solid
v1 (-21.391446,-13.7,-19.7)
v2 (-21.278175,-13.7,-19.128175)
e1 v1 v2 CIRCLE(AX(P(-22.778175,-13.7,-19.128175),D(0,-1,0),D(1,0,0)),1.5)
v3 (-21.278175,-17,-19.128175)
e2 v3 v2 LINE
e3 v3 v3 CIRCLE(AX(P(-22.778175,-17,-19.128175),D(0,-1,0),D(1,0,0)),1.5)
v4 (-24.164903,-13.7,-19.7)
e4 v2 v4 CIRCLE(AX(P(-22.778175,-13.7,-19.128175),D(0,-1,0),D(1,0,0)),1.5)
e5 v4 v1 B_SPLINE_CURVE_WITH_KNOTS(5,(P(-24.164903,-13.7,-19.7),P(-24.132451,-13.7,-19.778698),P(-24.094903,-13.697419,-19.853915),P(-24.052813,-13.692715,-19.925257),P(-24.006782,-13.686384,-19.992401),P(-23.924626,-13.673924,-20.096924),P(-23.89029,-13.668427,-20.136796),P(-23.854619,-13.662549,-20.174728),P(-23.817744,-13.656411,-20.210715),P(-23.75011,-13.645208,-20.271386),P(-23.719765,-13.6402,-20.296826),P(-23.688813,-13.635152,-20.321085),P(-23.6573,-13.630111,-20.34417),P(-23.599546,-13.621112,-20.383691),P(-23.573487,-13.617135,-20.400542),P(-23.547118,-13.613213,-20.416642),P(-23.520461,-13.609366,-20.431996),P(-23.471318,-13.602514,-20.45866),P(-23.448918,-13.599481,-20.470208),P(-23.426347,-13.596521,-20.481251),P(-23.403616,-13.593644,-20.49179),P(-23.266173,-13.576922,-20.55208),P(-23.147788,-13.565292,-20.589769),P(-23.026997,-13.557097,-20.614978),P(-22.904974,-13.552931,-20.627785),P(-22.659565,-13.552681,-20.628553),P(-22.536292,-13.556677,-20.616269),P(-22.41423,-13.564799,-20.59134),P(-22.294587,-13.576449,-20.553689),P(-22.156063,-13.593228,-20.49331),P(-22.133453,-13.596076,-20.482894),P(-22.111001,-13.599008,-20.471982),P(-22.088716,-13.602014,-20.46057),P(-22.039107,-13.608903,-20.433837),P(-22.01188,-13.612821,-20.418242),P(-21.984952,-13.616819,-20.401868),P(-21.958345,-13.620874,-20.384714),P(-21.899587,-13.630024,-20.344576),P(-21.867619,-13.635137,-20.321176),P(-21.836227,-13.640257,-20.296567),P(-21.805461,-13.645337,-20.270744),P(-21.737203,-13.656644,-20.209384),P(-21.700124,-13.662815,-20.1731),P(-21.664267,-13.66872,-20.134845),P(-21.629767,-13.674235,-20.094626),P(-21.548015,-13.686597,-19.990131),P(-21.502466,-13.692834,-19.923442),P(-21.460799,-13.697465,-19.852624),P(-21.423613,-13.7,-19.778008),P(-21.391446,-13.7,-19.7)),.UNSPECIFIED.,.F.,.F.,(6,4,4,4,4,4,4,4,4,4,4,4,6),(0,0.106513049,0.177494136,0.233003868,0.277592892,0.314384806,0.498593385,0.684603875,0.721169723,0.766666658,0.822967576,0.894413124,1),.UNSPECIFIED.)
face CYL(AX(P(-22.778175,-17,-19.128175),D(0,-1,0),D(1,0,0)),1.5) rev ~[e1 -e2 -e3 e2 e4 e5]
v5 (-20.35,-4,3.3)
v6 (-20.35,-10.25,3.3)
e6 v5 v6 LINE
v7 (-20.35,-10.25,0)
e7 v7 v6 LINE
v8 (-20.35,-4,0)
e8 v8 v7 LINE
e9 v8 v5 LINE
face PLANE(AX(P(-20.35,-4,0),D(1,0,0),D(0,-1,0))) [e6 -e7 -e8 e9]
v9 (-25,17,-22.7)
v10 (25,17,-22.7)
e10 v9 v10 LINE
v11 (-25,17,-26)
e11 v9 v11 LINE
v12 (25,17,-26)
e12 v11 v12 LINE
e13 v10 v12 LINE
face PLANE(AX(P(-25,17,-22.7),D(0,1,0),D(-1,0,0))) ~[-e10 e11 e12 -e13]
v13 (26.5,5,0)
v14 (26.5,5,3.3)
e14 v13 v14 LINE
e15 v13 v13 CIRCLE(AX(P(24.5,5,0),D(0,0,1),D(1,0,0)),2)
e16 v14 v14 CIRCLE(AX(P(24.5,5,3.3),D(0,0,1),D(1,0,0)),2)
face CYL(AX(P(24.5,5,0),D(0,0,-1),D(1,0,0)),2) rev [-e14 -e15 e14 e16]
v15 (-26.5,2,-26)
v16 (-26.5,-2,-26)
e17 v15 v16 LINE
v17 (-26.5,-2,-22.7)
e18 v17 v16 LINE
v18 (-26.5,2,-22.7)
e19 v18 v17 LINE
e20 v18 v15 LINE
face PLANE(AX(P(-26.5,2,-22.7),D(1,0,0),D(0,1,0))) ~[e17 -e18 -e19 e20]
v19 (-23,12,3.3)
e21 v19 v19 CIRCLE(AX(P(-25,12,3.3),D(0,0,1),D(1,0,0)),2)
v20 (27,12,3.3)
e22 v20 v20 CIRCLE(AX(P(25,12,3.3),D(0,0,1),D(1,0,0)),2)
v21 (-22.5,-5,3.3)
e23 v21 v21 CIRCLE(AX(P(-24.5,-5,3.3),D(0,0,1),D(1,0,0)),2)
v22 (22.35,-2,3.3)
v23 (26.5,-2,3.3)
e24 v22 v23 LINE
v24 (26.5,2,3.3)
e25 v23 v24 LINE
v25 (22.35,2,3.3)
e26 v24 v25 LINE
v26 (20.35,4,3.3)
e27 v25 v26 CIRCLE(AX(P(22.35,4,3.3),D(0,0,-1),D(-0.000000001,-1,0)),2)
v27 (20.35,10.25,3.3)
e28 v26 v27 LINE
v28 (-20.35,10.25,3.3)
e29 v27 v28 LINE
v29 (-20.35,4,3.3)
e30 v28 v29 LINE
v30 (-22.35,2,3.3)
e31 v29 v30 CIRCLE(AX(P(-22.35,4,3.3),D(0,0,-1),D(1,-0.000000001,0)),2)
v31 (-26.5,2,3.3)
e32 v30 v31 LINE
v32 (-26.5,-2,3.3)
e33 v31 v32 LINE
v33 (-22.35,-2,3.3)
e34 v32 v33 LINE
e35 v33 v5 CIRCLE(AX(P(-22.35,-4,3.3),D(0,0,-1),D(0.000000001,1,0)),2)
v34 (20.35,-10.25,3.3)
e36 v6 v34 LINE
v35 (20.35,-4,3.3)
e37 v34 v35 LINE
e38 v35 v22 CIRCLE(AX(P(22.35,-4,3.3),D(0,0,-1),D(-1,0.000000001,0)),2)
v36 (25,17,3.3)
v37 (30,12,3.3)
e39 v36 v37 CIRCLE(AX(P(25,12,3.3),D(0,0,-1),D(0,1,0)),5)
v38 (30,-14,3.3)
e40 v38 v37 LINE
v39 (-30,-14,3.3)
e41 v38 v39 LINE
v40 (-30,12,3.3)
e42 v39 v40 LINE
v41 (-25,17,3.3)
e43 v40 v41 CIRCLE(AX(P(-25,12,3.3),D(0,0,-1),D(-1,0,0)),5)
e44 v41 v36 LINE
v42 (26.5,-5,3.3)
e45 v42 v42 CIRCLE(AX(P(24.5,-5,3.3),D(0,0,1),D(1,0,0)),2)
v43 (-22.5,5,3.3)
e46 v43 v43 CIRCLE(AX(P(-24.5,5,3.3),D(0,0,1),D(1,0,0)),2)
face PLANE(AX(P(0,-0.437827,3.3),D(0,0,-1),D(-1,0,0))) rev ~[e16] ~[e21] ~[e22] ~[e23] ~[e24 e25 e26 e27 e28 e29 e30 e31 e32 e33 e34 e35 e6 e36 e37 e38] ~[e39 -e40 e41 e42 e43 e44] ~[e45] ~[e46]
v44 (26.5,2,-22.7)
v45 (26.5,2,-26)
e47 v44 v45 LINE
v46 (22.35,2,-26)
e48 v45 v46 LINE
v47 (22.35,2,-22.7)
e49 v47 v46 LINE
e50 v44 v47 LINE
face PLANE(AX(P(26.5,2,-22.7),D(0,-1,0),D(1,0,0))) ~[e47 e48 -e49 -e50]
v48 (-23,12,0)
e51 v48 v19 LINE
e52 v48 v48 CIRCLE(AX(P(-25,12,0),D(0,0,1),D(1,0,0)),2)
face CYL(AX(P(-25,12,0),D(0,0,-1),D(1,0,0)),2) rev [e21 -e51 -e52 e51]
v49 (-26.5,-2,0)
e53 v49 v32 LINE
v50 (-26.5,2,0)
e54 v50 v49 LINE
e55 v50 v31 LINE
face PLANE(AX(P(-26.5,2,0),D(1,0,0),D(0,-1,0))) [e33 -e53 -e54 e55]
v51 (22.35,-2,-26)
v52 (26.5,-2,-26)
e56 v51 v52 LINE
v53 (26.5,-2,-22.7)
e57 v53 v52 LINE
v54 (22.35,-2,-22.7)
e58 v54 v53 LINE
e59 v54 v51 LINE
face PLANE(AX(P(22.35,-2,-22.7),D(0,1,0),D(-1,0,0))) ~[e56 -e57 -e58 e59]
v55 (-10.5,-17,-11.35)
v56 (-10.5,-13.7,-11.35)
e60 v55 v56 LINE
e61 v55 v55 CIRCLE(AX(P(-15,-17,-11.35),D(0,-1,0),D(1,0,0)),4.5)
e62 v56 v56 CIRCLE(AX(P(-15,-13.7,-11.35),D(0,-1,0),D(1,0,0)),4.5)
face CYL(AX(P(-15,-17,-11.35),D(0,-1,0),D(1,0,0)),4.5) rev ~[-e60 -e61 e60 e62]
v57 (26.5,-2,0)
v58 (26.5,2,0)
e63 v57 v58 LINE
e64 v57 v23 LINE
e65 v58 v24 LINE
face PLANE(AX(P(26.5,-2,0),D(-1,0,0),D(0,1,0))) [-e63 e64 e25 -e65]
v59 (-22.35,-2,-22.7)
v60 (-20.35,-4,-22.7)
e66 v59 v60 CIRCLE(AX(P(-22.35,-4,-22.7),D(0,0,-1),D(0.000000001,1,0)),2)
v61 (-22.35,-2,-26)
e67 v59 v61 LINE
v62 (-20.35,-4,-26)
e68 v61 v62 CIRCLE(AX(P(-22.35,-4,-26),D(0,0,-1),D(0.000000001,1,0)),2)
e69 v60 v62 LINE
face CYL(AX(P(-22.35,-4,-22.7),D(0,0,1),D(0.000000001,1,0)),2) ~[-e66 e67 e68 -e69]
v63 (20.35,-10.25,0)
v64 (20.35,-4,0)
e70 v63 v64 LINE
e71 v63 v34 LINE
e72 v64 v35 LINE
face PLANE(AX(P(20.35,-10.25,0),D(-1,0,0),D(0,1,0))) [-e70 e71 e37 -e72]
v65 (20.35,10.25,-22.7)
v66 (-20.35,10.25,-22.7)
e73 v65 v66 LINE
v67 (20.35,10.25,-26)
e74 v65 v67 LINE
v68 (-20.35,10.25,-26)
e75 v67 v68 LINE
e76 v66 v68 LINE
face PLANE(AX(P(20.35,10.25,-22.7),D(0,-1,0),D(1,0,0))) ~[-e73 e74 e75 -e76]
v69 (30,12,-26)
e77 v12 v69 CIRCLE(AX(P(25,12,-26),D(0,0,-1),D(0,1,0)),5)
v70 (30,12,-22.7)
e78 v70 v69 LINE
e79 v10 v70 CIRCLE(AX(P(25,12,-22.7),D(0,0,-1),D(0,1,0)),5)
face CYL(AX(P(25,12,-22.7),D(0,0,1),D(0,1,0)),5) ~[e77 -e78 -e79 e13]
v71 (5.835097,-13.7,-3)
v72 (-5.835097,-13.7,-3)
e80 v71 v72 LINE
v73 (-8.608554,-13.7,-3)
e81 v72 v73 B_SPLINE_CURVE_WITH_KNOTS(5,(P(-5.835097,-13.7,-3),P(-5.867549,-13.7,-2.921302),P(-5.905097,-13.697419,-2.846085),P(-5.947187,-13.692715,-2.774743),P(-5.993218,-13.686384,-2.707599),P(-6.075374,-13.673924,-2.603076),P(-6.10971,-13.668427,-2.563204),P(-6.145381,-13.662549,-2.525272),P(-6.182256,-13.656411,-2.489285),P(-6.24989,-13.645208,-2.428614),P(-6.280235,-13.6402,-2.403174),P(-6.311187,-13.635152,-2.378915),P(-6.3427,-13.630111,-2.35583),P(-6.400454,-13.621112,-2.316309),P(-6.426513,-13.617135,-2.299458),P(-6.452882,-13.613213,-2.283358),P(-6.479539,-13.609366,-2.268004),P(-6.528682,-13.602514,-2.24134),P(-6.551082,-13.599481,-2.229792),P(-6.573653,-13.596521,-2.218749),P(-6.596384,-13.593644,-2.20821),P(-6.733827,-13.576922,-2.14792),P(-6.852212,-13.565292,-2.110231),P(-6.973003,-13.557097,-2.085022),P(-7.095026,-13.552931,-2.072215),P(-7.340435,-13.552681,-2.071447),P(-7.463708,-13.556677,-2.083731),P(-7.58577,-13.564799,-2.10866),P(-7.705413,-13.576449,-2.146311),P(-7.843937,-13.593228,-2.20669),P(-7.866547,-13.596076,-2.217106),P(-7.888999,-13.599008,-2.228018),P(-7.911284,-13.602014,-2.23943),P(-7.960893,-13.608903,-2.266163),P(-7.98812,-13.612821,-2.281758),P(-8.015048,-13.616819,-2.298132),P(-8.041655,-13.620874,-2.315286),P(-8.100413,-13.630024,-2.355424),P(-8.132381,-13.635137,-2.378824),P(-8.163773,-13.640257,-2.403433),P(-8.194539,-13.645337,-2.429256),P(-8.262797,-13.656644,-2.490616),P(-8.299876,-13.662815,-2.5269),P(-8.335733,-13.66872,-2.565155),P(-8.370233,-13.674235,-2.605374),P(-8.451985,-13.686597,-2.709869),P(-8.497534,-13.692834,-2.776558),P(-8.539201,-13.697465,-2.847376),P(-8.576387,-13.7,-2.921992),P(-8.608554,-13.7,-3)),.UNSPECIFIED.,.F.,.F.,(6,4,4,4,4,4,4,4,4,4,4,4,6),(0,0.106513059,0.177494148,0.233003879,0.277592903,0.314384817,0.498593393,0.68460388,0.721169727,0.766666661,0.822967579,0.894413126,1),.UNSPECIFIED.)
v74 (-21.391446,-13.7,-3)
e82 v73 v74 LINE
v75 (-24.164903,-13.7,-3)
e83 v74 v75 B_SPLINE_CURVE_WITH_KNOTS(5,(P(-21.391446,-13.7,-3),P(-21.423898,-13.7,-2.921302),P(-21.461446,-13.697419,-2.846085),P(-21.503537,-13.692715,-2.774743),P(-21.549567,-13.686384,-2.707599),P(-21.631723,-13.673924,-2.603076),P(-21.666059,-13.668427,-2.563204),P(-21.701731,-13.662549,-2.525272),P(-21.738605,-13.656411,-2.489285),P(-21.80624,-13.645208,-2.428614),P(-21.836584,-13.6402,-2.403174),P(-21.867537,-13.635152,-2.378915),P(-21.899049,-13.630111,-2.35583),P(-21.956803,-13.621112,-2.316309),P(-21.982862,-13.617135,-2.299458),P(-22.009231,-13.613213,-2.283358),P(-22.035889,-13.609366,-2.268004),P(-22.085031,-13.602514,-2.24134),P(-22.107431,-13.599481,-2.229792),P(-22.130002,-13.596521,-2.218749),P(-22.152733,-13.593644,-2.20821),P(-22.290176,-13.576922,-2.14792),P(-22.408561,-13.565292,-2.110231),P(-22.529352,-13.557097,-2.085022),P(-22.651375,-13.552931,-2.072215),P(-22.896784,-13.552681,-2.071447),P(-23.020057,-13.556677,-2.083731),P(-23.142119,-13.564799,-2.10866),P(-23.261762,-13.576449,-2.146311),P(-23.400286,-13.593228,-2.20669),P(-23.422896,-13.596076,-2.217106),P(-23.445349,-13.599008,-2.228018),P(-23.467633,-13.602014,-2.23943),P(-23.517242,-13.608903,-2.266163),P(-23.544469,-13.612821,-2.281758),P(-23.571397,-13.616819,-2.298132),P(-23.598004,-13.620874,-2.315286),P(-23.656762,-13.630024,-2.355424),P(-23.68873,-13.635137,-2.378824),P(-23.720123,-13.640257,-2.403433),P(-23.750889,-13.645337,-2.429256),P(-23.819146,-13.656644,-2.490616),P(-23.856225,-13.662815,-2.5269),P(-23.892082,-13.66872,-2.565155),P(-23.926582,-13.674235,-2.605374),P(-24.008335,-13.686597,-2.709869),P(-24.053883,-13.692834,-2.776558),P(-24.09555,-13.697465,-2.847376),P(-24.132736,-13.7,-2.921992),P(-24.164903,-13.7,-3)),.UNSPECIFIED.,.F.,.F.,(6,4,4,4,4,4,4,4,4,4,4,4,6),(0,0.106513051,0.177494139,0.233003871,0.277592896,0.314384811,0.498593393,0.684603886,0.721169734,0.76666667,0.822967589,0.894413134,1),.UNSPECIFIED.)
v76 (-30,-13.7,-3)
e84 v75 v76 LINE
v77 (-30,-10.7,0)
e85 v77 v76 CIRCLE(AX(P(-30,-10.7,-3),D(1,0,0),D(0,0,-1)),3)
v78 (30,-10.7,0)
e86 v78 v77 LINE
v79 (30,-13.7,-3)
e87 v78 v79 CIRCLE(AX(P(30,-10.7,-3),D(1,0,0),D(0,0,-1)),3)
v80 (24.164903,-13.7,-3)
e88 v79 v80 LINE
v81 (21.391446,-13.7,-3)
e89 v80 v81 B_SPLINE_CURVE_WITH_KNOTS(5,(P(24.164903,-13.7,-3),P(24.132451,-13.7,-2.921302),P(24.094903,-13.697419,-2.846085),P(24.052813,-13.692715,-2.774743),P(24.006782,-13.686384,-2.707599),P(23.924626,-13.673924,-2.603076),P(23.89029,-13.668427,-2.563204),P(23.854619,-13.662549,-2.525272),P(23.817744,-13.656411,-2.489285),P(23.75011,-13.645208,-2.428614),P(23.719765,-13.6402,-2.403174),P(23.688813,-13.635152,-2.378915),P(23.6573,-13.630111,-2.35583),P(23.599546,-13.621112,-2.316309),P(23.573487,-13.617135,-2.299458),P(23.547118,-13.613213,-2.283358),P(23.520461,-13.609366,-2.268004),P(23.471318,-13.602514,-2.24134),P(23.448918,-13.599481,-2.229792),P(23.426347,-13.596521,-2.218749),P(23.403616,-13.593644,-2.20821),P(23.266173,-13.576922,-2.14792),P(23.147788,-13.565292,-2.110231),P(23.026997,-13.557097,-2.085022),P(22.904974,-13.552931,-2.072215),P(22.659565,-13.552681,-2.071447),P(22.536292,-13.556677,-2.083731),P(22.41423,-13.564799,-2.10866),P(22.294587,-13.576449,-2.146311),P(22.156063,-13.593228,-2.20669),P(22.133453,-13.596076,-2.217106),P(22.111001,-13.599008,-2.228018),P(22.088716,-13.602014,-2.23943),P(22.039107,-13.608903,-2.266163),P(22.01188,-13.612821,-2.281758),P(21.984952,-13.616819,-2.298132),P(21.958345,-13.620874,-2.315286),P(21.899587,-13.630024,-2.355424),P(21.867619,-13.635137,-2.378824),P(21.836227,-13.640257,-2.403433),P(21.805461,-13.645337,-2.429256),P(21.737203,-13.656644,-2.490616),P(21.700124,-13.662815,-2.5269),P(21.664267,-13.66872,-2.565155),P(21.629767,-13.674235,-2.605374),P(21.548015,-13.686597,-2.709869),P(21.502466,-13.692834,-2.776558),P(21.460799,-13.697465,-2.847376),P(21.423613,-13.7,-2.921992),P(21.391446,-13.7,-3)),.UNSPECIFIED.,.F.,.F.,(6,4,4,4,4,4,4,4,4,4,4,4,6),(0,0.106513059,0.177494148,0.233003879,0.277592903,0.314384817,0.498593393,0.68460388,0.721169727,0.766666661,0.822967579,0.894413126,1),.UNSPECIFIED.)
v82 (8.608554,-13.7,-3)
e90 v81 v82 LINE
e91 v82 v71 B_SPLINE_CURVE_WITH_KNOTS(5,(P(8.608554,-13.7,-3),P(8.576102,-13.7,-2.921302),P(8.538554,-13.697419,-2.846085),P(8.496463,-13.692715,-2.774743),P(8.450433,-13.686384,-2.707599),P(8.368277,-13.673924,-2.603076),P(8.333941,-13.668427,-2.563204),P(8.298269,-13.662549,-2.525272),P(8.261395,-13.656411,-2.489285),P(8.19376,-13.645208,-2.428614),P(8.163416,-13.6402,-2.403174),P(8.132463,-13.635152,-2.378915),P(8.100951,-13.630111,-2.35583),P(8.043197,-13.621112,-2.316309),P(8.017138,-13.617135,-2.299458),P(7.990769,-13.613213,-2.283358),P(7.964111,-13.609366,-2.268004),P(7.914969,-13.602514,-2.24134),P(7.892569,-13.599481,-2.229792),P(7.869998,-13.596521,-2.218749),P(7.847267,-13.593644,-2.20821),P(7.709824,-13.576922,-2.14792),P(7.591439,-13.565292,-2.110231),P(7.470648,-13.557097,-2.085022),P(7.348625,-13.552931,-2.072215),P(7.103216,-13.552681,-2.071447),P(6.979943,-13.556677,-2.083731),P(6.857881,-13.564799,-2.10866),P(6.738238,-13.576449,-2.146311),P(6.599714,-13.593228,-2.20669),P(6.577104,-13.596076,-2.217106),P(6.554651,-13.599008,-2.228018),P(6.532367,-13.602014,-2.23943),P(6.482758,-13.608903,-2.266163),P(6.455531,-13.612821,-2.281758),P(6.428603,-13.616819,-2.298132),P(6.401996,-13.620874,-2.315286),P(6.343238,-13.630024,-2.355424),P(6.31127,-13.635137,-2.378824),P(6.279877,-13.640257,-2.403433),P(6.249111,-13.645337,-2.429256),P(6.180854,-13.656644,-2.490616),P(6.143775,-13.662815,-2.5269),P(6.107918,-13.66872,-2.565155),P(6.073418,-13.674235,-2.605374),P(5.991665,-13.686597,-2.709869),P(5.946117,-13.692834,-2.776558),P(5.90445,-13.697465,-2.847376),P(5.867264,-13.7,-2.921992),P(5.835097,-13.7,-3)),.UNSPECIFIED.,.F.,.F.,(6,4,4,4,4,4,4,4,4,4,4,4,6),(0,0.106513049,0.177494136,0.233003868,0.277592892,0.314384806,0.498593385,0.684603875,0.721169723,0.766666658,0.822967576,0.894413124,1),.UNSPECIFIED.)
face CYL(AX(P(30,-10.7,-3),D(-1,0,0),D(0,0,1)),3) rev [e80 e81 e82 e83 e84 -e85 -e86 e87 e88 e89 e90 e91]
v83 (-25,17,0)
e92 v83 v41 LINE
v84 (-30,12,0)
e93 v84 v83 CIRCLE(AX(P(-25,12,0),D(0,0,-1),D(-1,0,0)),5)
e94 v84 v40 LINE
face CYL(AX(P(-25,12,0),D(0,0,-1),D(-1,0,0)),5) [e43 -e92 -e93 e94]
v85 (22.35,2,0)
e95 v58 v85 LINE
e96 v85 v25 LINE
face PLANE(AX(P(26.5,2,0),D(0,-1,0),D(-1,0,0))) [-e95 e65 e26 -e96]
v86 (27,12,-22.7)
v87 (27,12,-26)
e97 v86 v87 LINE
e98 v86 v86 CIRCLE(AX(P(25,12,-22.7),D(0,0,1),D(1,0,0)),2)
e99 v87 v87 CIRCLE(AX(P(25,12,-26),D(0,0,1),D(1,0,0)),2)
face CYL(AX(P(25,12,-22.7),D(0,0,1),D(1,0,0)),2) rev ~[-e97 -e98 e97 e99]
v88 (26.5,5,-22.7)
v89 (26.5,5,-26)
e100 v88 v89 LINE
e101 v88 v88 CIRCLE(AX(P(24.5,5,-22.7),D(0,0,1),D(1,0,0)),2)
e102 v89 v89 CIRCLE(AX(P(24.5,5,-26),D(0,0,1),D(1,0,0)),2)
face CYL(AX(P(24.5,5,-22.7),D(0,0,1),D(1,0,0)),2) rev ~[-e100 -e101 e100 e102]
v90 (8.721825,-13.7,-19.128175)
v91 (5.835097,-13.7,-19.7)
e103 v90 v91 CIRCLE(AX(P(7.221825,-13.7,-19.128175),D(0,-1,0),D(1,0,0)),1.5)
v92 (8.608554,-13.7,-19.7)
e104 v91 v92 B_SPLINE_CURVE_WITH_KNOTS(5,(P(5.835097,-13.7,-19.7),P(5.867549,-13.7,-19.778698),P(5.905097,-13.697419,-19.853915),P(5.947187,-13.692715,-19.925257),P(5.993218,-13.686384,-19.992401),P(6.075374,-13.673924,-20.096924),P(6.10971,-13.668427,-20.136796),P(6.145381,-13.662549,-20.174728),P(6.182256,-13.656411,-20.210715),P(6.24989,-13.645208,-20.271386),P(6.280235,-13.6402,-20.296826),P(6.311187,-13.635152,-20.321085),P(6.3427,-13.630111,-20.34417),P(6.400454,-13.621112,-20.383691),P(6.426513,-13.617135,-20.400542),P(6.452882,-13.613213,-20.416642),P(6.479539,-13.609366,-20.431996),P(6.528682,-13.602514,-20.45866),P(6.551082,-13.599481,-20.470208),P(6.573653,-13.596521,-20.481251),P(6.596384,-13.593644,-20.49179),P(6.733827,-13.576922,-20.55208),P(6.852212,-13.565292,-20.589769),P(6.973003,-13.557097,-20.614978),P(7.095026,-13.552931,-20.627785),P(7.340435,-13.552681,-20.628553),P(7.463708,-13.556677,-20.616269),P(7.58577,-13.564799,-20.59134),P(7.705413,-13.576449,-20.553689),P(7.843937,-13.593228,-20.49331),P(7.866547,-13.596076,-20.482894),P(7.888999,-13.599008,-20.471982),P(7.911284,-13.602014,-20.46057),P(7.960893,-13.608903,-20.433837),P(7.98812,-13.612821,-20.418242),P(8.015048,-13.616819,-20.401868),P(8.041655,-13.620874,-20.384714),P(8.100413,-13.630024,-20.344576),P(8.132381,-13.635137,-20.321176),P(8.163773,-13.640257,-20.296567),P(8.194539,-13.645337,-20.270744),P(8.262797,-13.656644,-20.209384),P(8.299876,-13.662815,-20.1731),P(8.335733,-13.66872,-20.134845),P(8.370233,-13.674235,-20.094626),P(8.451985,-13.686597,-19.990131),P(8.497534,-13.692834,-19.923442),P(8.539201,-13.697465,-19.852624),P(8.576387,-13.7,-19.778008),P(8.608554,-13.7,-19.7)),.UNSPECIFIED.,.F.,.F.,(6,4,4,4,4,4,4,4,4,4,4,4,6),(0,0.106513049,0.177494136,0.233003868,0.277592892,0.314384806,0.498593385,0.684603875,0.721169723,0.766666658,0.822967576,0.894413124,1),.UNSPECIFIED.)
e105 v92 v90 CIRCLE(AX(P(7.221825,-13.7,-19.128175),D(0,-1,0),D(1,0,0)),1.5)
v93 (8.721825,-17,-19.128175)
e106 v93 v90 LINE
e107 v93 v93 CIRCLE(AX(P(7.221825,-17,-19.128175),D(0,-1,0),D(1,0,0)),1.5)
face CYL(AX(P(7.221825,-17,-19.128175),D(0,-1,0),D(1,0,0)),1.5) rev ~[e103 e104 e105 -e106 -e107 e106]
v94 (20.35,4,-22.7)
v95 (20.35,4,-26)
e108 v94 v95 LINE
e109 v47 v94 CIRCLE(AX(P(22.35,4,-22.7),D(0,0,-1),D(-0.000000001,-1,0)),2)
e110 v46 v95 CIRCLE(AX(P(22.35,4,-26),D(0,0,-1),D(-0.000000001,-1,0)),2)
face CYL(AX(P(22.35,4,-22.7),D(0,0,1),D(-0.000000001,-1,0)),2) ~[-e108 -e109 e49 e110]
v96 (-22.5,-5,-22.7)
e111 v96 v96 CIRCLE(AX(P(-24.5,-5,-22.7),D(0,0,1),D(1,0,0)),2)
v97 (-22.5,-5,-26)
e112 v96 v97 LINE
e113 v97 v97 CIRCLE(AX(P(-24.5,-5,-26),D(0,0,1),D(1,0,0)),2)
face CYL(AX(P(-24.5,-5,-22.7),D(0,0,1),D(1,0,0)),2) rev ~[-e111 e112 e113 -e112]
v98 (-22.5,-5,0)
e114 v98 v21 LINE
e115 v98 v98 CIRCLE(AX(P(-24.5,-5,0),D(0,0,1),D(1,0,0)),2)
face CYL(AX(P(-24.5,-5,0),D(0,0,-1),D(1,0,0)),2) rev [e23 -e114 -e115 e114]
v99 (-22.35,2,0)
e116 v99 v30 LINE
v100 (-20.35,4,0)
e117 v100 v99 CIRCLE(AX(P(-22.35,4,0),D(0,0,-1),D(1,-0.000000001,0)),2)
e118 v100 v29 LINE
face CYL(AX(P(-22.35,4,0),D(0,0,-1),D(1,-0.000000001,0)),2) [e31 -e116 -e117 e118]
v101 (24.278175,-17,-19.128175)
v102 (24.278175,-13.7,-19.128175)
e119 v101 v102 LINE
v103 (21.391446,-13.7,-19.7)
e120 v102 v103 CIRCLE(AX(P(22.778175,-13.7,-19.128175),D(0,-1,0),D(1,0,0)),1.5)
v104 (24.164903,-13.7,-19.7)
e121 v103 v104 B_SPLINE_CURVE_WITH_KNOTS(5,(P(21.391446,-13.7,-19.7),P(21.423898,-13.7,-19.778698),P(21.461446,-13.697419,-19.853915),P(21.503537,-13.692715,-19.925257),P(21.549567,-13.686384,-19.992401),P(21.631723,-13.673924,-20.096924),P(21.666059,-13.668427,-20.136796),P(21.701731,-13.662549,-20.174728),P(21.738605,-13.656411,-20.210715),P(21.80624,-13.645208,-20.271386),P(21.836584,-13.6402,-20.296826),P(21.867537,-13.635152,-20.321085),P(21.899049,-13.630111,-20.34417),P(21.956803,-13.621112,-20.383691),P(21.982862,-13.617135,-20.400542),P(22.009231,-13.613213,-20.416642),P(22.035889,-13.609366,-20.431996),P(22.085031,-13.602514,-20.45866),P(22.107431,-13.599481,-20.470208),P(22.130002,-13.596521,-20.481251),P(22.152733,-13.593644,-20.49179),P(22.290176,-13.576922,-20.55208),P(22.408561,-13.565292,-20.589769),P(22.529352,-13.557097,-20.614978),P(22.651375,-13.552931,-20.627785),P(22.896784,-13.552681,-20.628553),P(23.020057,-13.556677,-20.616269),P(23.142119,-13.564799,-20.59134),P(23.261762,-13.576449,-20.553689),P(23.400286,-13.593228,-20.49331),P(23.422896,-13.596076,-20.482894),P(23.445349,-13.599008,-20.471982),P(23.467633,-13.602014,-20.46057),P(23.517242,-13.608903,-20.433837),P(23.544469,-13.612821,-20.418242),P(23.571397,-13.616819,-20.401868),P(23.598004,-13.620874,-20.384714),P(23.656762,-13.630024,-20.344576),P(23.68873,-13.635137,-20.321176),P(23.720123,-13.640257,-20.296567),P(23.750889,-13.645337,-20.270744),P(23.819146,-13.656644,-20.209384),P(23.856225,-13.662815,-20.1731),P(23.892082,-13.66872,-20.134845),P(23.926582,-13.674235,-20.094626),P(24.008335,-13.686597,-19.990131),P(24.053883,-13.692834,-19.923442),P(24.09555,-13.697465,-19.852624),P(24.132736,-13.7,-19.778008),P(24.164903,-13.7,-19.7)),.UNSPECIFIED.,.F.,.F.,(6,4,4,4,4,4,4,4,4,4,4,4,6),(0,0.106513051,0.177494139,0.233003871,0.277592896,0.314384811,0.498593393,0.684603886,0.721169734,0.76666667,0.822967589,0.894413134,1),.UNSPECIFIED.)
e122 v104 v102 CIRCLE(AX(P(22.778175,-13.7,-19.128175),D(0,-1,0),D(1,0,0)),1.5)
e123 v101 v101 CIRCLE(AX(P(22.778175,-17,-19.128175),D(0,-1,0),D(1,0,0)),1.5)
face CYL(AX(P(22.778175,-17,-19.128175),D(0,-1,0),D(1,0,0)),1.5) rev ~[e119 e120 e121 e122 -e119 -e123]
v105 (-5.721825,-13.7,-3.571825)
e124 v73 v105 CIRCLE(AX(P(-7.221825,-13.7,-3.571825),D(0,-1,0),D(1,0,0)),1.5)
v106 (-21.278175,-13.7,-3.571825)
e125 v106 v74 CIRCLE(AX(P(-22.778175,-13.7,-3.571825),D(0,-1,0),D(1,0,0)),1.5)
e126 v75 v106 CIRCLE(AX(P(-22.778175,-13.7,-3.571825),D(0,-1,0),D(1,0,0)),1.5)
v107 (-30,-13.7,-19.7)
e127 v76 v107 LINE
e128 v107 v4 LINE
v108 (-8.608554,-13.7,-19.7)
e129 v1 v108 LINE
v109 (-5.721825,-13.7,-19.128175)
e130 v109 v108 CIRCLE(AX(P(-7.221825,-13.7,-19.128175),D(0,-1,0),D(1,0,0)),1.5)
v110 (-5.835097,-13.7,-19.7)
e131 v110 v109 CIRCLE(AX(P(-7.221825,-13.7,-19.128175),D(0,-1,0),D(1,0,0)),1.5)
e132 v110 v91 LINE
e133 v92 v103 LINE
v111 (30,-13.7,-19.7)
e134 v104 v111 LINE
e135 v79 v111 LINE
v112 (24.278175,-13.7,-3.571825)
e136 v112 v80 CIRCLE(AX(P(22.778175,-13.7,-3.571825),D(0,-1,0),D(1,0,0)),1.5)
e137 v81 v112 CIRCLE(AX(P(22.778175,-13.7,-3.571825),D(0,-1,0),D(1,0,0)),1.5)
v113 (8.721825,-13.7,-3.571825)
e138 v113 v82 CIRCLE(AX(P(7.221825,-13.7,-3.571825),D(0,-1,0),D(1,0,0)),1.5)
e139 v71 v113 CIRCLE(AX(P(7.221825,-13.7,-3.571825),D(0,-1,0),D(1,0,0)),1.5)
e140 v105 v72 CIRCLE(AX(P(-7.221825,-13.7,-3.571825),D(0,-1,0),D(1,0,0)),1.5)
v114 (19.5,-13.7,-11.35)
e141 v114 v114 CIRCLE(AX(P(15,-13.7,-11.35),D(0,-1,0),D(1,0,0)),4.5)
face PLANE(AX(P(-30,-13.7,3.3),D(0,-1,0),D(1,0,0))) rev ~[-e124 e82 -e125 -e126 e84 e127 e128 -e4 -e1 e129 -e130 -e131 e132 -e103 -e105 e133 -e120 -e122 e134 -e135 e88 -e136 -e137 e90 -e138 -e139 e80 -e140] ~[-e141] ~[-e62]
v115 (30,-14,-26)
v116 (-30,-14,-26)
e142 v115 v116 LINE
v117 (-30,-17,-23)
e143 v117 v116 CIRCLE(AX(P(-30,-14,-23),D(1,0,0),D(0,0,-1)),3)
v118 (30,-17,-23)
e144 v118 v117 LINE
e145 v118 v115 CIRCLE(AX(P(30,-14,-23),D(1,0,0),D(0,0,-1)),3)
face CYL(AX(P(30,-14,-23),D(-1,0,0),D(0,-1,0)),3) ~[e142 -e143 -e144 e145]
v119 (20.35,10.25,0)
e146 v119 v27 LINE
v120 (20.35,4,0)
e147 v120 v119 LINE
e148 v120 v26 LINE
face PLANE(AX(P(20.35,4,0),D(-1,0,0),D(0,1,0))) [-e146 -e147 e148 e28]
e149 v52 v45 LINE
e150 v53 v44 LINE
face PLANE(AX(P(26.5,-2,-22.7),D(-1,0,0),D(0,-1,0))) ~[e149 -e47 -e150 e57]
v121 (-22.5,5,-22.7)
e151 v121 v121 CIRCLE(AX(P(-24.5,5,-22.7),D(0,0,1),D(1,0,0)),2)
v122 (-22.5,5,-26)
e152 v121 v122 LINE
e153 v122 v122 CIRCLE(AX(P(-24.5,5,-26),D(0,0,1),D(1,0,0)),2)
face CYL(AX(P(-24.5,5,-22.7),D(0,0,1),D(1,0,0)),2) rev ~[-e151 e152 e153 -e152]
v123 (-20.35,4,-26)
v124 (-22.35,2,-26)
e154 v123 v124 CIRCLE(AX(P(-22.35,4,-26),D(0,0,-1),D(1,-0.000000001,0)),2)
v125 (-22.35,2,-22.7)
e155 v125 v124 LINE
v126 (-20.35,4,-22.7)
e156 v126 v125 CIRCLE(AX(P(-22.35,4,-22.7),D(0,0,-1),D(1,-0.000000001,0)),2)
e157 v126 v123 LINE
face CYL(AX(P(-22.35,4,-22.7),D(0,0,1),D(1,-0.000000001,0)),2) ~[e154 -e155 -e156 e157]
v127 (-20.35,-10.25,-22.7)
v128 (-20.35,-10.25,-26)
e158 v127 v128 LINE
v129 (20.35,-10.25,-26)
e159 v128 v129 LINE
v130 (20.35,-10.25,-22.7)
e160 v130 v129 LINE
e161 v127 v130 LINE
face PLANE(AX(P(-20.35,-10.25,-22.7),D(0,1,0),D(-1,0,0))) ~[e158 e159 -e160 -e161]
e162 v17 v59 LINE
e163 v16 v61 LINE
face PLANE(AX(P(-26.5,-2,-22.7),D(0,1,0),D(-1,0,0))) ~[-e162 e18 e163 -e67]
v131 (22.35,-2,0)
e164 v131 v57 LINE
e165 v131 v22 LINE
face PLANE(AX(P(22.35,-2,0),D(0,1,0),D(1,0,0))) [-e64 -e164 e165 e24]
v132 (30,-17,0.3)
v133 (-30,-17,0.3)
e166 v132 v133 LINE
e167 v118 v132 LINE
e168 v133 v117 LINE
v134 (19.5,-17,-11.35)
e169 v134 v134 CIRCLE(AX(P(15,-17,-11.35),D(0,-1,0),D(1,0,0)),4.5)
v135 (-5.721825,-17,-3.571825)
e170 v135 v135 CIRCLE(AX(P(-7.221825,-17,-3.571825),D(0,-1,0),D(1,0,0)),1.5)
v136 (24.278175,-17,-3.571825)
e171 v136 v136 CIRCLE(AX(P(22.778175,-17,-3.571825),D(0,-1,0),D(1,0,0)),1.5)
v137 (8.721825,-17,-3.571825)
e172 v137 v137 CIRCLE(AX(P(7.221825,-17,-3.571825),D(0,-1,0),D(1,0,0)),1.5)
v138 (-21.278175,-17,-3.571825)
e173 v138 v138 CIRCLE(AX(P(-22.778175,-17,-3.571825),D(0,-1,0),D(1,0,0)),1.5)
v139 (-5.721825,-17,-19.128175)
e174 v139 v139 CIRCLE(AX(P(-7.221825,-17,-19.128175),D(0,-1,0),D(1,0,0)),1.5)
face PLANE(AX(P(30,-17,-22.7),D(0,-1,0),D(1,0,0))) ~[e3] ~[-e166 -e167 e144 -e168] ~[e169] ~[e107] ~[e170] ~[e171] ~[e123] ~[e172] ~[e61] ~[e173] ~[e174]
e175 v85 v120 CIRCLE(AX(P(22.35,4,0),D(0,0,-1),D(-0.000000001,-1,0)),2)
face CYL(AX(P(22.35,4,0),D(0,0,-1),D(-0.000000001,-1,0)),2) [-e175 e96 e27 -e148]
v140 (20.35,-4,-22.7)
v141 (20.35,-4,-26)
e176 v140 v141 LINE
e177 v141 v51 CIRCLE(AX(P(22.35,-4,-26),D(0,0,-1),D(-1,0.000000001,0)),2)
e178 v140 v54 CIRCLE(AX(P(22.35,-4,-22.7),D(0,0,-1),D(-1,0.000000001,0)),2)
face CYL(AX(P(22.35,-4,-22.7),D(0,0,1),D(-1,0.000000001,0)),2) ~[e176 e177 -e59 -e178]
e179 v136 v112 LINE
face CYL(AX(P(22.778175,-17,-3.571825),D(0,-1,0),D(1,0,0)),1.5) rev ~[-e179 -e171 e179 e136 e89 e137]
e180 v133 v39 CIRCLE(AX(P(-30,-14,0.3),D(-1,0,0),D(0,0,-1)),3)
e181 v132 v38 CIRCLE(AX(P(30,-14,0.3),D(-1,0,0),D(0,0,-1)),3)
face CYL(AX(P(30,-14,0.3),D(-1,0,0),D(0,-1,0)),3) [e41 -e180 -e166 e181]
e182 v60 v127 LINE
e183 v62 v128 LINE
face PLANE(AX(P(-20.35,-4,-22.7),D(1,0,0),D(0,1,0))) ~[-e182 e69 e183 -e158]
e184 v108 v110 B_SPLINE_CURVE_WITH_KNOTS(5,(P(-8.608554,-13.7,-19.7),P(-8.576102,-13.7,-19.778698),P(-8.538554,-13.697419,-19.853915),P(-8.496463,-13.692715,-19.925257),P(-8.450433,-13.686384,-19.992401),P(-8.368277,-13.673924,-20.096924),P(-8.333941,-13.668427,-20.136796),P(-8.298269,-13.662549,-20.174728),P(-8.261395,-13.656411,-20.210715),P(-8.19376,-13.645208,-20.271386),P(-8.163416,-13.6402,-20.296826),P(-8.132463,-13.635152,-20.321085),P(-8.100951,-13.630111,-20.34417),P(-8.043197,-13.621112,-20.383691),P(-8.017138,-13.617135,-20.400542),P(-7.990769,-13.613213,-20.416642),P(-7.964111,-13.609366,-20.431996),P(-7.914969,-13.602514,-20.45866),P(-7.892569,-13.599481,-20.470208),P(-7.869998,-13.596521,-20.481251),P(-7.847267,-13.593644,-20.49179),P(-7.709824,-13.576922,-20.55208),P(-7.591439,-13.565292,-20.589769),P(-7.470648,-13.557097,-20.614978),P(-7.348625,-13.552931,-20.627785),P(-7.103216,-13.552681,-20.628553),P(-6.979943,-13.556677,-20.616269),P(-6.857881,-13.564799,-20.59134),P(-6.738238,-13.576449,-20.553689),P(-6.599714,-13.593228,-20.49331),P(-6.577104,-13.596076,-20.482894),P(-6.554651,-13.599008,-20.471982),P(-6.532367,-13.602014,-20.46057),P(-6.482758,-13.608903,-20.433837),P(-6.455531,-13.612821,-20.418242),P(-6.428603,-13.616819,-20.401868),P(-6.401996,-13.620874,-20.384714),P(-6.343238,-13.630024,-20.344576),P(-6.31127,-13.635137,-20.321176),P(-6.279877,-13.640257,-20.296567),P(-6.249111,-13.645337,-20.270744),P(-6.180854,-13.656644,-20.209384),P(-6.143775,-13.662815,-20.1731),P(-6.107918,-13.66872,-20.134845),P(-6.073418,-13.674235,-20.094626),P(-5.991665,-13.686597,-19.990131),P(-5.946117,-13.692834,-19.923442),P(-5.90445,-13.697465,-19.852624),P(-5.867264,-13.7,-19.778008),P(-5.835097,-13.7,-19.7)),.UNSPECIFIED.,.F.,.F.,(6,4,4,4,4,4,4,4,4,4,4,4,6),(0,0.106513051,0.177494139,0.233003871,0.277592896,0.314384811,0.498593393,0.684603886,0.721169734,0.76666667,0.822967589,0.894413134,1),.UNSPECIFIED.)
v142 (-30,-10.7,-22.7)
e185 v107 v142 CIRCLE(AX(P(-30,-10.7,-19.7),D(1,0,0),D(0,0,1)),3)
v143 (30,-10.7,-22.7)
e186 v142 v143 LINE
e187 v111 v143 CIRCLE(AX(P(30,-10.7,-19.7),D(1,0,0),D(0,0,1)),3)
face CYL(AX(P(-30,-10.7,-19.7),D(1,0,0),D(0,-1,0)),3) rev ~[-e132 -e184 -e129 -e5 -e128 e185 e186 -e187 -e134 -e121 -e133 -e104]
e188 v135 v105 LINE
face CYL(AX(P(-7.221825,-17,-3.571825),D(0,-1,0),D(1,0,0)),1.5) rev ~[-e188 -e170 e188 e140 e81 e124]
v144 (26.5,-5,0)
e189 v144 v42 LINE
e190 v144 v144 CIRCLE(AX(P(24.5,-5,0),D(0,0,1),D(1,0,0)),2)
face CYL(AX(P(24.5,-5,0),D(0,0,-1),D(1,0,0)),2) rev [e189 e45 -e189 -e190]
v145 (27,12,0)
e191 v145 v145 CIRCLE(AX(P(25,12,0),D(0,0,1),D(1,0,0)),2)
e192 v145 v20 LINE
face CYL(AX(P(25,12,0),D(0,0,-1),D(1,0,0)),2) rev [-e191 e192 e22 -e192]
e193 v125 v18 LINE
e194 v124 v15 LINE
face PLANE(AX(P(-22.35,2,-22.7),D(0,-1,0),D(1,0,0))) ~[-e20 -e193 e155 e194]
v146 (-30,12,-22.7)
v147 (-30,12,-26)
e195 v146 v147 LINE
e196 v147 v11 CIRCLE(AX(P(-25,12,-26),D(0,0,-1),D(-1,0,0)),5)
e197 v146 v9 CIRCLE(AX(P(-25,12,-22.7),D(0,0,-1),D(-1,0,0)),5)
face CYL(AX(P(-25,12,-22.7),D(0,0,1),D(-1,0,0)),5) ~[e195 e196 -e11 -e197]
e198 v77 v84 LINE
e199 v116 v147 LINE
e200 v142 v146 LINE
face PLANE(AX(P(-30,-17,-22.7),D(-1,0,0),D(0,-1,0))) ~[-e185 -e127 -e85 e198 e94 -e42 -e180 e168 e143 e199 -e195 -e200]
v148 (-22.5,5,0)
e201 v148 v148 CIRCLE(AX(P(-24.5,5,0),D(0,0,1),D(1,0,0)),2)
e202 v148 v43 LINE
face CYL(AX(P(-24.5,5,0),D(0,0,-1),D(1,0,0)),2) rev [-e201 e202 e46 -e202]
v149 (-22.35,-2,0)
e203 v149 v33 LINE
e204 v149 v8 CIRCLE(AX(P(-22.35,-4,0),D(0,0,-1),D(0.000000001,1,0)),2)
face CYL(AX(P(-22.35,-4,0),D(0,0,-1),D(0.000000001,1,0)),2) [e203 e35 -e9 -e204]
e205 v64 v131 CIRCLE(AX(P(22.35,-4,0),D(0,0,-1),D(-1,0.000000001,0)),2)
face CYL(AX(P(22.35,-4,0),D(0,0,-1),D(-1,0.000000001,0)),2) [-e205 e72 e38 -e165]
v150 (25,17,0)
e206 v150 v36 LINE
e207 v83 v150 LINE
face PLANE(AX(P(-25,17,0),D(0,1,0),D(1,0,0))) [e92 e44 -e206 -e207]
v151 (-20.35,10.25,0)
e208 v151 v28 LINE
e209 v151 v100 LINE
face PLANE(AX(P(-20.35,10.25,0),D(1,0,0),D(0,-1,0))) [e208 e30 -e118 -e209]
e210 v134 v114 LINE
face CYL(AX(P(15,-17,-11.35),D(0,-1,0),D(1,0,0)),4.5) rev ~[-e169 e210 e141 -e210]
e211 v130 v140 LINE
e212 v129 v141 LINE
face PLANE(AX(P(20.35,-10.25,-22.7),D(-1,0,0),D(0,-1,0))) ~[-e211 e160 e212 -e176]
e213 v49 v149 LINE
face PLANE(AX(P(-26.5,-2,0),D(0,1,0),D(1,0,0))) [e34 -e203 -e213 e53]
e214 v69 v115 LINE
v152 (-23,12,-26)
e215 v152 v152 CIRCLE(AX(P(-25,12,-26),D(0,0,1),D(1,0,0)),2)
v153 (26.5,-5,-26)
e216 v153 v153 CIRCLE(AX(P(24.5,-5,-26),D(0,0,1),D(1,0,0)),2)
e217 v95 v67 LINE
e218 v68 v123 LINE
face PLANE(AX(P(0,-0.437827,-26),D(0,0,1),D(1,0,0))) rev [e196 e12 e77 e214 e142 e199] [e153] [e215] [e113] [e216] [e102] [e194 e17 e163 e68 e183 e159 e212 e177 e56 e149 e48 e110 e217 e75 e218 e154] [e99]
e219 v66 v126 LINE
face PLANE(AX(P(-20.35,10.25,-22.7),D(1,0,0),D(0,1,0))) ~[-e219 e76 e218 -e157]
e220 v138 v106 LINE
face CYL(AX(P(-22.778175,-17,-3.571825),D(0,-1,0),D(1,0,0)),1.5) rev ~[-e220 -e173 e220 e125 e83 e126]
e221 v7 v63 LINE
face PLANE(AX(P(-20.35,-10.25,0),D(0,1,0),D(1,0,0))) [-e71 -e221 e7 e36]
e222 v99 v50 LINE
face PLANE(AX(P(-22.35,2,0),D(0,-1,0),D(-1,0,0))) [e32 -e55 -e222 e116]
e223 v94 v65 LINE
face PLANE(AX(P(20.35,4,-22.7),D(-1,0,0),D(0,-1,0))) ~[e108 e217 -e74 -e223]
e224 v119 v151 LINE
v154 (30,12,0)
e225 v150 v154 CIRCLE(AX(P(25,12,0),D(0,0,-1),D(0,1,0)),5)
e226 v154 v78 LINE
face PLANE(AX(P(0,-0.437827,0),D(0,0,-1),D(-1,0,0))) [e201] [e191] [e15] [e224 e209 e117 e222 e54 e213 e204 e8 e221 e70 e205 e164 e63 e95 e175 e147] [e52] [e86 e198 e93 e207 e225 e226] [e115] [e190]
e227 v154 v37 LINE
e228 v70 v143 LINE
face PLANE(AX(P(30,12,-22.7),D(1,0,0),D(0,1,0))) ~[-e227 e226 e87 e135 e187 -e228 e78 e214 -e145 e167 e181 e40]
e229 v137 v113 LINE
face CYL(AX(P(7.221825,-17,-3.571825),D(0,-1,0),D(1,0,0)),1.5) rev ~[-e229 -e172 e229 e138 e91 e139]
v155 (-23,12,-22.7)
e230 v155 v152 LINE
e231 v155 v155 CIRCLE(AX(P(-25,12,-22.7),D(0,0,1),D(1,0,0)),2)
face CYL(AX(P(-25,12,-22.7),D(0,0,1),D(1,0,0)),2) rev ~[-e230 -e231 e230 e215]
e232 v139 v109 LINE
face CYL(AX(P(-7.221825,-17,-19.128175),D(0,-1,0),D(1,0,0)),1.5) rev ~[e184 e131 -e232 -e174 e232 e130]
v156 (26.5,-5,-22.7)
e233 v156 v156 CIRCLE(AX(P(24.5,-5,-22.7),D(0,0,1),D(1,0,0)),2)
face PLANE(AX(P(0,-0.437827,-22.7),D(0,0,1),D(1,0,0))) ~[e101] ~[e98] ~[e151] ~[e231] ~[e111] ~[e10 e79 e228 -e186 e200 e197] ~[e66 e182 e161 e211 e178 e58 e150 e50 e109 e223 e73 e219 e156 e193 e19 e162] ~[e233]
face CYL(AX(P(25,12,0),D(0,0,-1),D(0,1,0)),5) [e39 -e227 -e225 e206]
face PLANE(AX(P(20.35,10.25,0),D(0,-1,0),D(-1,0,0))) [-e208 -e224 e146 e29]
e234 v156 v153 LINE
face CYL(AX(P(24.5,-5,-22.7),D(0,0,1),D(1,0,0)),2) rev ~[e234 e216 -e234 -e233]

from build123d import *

# Parameters (mm, degrees)
SKETCH1_R           = 2
BOSS_EXTRUDE1_DEPTH = 3.3
SKETCH2_W           = 60
SKETCH2_H           = 3.3
BOSS_EXTRUDE2_DEPTH = 26
FILLET1_R           = 3
SKETCH4_R           = 1.5
SKETCH4_R_2         = 4.5
CUT_EXTRUDE1_DEPTH  = 18


with BuildPart() as part:
    # Sketch1 → Boss-Extrude1 (new body)
    with BuildSketch(Plane.XY):
        with BuildLine():
            Line((30, -17), (-30, -17))
            Line((-30, -17), (-30, 12))
            ThreePointArc((-30, 12), (-28.535533906, 15.535533906), (-25, 17))
            Line((-25, 17), (25, 17))
            ThreePointArc((25, 17), (28.535533906, 15.535533906), (30, 12))
            Line((30, 12), (30, -17))
        make_face()
        with Locations((-24.5, 5)):
            Circle(SKETCH1_R, mode=Mode.SUBTRACT)
        with Locations((24.5, 5)):
            Circle(SKETCH1_R, mode=Mode.SUBTRACT)
        with Locations((24.5, -5)):
            Circle(SKETCH1_R, mode=Mode.SUBTRACT)
        with Locations((-24.5, -5)):
            Circle(SKETCH1_R, mode=Mode.SUBTRACT)
        with Locations((-25, 12)):
            Circle(SKETCH1_R, mode=Mode.SUBTRACT)
        with Locations((25, 12)):
            Circle(SKETCH1_R, mode=Mode.SUBTRACT)
        with BuildLine():
            Line((-20.35, -4), (-20.35, -10.25))
            Line((-20.35, -10.25), (20.35, -10.25))
            Line((20.35, -10.25), (20.35, -4))
            ThreePointArc((20.35, -4), (20.935786438, -2.585786438), (22.35, -2))
            Line((22.35, -2), (26.5, -2))
            Line((26.5, -2), (26.5, 2))
            Line((26.5, 2), (22.35, 2))
            ThreePointArc((22.35, 2), (20.935786438, 2.585786438), (20.35, 4))
            Line((20.35, 4), (20.35, 10.25))
            Line((20.35, 10.25), (-20.35, 10.25))
            Line((-20.35, 10.25), (-20.35, 4))
            ThreePointArc((-20.35, 4), (-20.935786438, 2.585786438), (-22.35, 2))
            Line((-22.35, 2), (-26.5, 2))
            Line((-26.5, 2), (-26.5, -2))
            Line((-26.5, -2), (-22.35, -2))
            ThreePointArc((-22.35, -2), (-20.935786438, -2.585786438), (-20.35, -4))
        make_face(mode=Mode.SUBTRACT)
    boss_extrude1 = extrude(amount=BOSS_EXTRUDE1_DEPTH)

    # Sketch2 → Boss-Extrude2 (add)
    with BuildSketch(Plane.XY.offset(3.3)):
        with Locations((0, -15.35)):
            Rectangle(SKETCH2_W, SKETCH2_H)
    extrude(amount=-BOSS_EXTRUDE2_DEPTH)

    # Mirror1: Boss-Extrude1 across plane
    add(boss_extrude1.mirror(Plane.XY.offset(-11.35)))

    # Fillet1
    fillet1_edges = [part.edges().sort_by_distance(p)[0] for p in [
        (0, -13.7, -22.7),
        (0, -13.7, 0),
        (0, -17, -26),
        (0, -17, 3.3),
    ]]
    fillet(fillet1_edges, radius=FILLET1_R)

    # Sketch4 → Cut-Extrude1 (cut)
    with BuildSketch(Plane.XZ.offset(17)):
        with Locations((-22.778174593, -3.571825407)):
            Circle(SKETCH4_R)
        with Locations((-7.221825407, -3.571825407)):
            Circle(SKETCH4_R)
        with Locations((-7.221825407, -19.128174593)):
            Circle(SKETCH4_R)
        with Locations((-22.778174593, -19.128174593)):
            Circle(SKETCH4_R)
        with Locations((22.778174593, -19.128174593)):
            Circle(SKETCH4_R)
        with Locations((7.221825407, -19.128174593)):
            Circle(SKETCH4_R)
        with Locations((7.221825407, -3.571825407)):
            Circle(SKETCH4_R)
        with Locations((22.778174593, -3.571825407)):
            Circle(SKETCH4_R)
        with Locations((-15, -11.35)):
            Circle(SKETCH4_R_2)
        with Locations((15, -11.35)):
            Circle(SKETCH4_R_2)
    extrude(amount=-CUT_EXTRUDE1_DEPTH, mode=Mode.SUBTRACT)


solid = part.part
